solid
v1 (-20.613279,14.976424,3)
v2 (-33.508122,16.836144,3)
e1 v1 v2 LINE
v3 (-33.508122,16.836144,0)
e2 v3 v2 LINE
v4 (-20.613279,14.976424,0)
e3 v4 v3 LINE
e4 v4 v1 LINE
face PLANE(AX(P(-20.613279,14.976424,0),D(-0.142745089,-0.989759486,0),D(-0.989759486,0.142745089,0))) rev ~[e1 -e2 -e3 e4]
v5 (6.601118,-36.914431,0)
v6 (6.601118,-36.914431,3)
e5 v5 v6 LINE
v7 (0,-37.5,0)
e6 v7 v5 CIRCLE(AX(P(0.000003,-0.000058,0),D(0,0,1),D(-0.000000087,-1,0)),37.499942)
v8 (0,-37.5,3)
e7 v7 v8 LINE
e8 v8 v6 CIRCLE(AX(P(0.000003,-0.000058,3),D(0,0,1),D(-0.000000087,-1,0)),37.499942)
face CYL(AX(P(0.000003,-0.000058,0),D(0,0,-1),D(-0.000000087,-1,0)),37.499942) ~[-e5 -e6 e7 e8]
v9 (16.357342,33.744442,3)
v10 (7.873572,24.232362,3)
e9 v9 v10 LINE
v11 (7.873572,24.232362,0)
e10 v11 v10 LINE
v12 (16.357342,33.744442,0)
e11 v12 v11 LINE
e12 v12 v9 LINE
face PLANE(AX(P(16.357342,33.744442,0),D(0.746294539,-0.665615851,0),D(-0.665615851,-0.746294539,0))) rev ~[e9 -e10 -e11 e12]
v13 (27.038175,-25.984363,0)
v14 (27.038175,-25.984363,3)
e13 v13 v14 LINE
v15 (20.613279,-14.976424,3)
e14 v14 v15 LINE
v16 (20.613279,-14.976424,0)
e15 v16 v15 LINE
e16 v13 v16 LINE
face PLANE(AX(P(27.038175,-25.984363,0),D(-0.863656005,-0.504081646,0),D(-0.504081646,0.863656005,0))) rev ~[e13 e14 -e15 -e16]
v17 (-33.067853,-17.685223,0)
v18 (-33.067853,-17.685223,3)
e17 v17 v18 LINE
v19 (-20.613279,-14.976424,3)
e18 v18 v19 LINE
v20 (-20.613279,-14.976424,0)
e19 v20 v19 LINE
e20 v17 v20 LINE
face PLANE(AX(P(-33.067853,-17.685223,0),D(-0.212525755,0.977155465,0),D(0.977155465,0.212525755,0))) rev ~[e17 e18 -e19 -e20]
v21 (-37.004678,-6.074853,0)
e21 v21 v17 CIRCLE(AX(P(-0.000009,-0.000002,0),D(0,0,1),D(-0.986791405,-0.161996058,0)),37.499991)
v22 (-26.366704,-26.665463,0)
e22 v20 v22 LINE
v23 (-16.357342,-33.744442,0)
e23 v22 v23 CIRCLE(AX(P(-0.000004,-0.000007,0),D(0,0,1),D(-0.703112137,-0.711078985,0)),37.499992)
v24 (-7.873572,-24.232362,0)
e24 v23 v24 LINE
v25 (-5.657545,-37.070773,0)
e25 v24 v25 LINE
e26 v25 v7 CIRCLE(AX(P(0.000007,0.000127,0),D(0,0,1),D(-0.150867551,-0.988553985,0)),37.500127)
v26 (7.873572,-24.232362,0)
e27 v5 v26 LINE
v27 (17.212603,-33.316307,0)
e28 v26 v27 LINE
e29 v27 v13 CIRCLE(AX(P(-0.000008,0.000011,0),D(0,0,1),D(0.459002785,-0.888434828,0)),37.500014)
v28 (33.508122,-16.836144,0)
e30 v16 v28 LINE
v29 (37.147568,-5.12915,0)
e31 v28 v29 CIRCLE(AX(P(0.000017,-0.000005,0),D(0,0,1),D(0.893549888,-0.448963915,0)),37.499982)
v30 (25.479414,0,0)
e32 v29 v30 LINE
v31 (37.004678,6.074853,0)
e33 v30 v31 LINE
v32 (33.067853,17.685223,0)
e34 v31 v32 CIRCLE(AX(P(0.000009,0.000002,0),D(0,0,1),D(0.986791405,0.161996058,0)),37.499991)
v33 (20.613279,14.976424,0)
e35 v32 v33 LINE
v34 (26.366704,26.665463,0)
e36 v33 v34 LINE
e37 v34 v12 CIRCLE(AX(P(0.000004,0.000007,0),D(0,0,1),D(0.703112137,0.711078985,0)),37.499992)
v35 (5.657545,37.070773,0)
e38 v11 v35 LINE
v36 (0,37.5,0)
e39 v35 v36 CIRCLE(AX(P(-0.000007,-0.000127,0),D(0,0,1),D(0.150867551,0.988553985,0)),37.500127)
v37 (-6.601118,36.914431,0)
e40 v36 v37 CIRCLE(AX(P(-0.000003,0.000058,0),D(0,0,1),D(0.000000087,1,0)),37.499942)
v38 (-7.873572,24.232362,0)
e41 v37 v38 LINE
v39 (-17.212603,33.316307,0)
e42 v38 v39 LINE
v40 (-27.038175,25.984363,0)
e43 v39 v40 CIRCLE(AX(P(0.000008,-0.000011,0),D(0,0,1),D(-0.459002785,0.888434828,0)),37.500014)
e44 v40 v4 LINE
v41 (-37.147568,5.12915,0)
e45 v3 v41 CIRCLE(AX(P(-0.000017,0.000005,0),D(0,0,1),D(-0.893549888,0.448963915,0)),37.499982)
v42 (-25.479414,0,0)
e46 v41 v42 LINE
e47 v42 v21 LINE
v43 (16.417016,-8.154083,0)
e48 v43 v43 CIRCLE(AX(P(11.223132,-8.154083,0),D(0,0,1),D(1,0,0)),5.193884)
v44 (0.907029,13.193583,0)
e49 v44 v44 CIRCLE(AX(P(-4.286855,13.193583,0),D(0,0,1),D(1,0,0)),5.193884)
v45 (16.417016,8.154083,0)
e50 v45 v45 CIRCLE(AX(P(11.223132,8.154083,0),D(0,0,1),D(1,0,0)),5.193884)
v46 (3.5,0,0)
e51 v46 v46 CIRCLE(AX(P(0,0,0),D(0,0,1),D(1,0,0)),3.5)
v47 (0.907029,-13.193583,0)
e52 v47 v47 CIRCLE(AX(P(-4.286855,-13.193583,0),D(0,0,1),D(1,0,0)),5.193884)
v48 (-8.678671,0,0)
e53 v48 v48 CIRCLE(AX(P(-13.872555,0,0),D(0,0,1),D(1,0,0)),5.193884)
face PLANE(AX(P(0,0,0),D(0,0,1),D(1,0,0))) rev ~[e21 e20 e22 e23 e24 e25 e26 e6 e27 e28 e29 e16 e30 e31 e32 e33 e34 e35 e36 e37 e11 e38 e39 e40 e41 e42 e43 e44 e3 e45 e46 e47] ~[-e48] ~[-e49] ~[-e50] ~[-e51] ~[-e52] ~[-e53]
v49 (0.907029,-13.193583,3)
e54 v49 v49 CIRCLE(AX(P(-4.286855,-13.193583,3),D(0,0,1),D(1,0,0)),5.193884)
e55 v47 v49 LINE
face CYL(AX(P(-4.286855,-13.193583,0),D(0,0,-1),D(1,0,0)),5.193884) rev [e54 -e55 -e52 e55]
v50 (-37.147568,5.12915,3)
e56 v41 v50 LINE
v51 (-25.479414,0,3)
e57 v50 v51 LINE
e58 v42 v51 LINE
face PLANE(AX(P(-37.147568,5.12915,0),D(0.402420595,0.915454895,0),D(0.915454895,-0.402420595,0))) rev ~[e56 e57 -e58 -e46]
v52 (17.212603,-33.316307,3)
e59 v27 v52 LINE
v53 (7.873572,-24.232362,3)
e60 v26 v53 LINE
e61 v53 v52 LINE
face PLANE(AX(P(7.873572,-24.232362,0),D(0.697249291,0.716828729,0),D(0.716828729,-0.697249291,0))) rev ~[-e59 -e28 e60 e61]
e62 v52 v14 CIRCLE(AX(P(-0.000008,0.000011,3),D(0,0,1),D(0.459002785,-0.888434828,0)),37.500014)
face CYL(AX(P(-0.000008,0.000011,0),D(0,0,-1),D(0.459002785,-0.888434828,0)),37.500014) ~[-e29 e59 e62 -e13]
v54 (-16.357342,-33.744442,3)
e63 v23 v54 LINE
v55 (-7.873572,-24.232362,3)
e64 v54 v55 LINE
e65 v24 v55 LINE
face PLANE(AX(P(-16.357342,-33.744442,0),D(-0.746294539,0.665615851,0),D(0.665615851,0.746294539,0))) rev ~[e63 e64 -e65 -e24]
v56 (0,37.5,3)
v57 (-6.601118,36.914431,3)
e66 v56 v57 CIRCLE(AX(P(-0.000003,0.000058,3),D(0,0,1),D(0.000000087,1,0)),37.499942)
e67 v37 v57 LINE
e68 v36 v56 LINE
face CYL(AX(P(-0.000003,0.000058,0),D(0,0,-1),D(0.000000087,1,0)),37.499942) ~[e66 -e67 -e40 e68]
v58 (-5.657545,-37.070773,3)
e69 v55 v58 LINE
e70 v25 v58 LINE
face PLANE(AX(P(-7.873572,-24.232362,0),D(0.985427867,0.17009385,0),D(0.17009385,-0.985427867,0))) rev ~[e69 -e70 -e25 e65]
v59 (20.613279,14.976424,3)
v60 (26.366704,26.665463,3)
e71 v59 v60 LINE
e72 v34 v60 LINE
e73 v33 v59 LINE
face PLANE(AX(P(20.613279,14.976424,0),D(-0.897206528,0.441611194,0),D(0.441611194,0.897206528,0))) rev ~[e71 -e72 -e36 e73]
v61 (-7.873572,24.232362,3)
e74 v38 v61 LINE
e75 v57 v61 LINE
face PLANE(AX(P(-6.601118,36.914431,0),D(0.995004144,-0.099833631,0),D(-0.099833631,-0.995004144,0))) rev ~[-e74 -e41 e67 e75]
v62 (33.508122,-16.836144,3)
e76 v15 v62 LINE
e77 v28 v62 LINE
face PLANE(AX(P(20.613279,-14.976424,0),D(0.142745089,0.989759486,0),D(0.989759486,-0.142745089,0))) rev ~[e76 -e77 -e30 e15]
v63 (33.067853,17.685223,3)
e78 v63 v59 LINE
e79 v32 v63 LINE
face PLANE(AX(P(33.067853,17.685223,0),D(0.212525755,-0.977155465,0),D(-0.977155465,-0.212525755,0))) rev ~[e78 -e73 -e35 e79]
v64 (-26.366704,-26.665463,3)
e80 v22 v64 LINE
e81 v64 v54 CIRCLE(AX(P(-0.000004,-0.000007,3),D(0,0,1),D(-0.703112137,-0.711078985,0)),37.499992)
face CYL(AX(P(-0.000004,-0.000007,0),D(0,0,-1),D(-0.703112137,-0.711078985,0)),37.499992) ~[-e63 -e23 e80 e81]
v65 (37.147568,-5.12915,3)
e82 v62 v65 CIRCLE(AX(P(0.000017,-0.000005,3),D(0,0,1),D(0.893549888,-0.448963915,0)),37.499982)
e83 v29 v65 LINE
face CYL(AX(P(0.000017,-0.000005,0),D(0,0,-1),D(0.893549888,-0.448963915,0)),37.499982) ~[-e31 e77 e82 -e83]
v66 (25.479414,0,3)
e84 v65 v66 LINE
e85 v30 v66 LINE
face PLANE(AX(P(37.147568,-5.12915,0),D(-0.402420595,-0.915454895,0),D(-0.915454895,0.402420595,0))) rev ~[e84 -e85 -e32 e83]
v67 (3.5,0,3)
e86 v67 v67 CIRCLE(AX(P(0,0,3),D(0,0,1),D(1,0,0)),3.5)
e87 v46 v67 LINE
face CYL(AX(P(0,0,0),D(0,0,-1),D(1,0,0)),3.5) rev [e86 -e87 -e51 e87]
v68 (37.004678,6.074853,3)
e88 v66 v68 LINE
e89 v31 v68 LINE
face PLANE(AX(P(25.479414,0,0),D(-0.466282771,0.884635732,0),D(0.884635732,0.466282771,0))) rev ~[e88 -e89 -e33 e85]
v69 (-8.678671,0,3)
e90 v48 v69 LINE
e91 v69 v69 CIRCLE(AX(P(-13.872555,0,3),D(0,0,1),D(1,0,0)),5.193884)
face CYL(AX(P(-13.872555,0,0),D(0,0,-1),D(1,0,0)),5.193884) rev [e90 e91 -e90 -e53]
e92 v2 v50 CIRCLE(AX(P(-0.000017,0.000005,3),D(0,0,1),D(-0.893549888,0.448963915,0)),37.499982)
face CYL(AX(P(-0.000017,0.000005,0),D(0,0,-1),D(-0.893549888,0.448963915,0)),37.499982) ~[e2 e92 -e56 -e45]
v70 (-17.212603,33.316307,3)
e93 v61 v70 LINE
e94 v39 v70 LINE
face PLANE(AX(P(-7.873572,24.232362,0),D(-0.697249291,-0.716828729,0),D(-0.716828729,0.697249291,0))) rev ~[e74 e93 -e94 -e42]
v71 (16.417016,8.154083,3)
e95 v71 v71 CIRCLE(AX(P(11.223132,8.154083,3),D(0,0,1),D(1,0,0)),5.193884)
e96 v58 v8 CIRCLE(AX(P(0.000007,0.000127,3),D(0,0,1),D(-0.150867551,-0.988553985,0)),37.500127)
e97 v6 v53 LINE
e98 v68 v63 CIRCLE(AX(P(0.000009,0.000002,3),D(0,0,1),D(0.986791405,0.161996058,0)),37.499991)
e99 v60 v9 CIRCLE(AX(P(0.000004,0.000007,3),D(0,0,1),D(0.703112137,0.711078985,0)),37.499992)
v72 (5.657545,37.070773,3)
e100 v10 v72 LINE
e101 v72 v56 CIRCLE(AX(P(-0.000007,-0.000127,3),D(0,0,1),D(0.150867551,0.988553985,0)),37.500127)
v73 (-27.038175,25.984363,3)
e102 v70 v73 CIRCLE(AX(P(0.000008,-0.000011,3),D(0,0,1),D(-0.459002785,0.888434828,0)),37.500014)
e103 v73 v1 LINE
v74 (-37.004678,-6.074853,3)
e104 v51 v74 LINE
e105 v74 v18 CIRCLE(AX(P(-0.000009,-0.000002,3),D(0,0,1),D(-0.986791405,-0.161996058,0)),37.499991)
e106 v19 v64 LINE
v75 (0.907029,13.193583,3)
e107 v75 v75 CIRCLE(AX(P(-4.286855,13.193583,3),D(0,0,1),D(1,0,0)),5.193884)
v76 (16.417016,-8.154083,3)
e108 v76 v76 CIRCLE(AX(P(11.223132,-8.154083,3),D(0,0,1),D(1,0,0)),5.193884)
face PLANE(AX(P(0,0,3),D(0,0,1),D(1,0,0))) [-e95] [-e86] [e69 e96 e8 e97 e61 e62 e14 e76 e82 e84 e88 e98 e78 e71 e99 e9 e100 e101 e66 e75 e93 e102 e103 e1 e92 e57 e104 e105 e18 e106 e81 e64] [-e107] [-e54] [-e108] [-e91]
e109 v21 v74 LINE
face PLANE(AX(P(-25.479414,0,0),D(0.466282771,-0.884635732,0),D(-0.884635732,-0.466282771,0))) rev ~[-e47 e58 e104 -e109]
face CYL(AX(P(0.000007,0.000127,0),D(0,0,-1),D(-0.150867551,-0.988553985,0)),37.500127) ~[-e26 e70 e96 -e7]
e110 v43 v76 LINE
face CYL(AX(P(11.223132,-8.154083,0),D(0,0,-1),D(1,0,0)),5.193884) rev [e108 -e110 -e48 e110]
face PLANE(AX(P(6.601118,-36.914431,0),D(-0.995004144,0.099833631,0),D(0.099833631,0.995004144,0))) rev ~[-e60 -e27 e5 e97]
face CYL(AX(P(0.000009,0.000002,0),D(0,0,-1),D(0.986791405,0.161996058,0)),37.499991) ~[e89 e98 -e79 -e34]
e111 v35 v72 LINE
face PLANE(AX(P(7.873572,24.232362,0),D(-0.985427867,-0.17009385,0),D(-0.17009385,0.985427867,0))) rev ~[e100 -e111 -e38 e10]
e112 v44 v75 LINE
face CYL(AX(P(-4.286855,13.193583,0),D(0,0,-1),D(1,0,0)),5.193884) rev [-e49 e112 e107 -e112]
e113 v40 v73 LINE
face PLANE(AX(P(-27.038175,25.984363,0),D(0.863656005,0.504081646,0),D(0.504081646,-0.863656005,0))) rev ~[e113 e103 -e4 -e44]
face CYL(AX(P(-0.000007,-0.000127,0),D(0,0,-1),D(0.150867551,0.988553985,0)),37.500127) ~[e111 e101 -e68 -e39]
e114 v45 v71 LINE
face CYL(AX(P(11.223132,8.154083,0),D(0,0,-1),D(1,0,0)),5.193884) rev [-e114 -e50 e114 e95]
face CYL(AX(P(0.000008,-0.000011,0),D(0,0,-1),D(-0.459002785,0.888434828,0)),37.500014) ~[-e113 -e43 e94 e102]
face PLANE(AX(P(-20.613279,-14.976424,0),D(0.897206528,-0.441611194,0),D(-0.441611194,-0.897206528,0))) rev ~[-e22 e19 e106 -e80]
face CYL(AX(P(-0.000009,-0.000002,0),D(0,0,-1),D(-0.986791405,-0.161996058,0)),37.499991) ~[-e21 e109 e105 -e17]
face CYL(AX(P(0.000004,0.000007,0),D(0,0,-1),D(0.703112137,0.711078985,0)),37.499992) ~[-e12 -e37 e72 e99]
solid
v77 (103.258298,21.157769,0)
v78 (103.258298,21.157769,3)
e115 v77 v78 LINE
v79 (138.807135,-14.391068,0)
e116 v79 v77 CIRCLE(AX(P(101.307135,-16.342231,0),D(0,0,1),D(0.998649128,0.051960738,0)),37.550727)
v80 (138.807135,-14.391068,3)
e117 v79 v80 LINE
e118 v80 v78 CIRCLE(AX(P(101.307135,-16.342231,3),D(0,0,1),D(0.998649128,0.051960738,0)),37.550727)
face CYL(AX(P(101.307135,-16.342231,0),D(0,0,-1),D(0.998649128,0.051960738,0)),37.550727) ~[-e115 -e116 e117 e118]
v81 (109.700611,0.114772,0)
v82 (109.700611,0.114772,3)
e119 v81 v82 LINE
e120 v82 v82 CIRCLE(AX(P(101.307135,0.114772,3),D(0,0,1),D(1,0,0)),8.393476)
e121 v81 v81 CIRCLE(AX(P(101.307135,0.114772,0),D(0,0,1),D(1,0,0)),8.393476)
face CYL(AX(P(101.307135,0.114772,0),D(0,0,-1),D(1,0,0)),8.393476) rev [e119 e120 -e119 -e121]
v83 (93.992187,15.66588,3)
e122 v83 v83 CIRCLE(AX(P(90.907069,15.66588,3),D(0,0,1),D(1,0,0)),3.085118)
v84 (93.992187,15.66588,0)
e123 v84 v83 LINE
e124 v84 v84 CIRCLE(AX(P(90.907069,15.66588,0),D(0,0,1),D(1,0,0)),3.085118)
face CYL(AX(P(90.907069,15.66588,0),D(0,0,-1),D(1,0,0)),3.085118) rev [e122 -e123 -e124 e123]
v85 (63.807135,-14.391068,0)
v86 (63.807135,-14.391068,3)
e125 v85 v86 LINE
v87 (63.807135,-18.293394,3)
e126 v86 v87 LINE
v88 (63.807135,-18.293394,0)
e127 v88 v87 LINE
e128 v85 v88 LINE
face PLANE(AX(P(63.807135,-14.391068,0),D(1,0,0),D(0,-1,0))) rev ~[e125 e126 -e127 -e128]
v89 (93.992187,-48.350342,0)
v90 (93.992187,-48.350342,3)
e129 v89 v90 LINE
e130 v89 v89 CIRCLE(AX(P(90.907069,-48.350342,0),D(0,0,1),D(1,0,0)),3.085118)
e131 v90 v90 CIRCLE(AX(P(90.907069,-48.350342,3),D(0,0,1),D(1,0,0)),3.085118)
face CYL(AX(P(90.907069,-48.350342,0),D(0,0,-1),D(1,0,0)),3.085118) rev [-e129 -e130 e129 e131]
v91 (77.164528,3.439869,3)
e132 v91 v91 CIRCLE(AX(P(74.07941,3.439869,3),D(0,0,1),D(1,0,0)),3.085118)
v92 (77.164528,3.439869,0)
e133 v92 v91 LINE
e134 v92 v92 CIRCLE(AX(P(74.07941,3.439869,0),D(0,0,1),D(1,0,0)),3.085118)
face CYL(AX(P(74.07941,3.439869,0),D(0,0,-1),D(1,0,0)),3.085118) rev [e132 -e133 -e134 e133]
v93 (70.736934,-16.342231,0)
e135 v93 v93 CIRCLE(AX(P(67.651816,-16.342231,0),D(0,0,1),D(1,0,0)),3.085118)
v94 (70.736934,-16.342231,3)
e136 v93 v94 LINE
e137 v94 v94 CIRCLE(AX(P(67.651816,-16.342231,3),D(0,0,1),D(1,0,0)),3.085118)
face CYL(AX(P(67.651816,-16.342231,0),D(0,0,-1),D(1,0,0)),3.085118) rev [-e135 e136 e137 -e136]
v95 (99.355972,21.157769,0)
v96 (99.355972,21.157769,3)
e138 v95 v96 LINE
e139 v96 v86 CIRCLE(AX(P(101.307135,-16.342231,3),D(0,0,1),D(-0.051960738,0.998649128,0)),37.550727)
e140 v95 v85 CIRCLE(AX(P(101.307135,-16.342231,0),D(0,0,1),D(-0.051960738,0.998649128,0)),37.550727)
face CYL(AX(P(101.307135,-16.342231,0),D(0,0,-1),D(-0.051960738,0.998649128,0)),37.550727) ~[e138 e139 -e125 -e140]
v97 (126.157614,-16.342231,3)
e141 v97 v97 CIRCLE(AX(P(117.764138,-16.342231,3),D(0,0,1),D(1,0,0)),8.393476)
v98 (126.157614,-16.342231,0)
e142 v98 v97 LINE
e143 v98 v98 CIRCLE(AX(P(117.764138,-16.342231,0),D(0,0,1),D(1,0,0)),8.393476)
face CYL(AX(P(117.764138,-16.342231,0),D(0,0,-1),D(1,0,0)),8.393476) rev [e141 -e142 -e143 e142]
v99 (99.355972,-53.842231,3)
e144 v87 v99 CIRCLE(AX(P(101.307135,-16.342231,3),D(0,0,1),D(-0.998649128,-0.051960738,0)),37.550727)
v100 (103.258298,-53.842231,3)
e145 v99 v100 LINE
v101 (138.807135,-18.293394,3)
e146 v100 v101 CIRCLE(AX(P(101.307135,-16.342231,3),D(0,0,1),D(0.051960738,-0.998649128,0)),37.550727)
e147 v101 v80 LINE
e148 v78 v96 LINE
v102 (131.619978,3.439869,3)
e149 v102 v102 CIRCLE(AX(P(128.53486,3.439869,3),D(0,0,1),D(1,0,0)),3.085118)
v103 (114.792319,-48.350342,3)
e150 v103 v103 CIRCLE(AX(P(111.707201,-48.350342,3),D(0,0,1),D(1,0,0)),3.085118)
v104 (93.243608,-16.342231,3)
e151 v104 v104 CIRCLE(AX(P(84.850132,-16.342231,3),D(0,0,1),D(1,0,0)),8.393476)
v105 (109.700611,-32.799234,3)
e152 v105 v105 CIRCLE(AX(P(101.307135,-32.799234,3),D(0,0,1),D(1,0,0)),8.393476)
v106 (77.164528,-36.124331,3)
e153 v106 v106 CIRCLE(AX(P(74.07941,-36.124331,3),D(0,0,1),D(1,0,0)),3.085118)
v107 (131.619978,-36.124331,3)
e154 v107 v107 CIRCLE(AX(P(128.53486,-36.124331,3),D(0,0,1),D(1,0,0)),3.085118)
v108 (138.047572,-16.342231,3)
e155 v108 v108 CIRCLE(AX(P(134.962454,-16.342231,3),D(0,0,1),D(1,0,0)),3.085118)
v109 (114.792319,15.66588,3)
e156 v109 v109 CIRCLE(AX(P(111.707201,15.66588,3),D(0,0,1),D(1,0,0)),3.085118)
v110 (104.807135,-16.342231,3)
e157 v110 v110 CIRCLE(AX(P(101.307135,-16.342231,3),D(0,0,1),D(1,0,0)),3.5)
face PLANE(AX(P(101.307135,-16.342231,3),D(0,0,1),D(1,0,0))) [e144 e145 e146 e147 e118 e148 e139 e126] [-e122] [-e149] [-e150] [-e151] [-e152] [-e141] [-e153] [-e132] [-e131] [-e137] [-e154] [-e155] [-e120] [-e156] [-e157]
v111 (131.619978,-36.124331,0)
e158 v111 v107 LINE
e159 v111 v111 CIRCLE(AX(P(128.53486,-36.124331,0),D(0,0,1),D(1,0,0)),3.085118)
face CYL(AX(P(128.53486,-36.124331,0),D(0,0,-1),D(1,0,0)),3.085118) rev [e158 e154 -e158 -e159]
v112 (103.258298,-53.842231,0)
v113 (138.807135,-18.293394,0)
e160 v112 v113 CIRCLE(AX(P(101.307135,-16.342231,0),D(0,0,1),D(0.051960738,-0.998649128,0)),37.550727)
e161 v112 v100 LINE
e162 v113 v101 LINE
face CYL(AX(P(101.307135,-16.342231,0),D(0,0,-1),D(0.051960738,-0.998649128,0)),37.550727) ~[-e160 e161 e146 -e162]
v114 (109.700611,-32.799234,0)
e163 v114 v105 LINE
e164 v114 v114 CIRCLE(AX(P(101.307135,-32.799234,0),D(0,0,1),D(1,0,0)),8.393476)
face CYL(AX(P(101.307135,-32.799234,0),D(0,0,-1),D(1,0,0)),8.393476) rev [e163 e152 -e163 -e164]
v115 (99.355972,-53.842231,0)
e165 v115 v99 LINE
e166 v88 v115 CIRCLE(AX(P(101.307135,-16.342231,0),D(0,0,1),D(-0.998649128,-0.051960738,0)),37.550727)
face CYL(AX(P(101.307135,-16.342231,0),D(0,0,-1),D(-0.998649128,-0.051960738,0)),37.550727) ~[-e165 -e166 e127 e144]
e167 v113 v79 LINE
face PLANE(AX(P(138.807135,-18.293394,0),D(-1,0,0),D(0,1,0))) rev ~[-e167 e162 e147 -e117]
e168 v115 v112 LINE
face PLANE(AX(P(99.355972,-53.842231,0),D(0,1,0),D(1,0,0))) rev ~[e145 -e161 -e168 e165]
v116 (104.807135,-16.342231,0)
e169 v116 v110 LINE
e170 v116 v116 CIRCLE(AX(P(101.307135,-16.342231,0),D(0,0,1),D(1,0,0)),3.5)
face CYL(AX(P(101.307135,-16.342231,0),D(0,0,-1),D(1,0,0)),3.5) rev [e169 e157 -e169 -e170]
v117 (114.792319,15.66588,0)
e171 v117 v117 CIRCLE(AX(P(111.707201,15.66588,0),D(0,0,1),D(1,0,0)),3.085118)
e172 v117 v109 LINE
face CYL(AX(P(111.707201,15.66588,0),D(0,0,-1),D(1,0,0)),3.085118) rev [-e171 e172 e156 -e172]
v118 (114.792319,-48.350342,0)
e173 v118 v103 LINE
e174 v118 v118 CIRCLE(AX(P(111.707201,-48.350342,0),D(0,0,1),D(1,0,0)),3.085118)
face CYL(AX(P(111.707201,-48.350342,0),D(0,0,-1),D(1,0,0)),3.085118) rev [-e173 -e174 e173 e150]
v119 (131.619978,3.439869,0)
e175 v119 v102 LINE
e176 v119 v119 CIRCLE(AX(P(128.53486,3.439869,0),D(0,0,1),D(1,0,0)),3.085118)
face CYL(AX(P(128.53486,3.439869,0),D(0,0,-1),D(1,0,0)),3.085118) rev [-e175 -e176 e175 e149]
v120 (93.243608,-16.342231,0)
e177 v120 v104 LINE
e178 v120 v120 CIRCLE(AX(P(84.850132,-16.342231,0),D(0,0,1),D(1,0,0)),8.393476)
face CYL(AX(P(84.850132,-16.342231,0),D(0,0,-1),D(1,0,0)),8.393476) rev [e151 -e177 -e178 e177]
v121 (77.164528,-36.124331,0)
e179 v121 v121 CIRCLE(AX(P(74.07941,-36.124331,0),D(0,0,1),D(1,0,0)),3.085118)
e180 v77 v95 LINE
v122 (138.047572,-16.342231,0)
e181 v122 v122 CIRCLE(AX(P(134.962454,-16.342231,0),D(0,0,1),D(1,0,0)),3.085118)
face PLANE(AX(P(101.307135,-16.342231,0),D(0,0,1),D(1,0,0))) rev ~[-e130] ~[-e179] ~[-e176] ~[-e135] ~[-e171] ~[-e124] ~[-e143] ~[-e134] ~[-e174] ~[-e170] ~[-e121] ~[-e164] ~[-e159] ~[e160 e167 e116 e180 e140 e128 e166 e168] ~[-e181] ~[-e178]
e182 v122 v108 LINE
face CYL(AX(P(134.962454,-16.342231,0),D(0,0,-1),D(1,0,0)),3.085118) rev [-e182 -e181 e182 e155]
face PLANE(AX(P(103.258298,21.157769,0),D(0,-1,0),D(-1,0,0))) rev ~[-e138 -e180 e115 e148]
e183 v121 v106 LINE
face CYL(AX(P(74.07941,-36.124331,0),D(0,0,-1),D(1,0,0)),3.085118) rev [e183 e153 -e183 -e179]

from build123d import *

# Parameters (mm, degrees)
F0_R     = 5.193884
F0_R_2   = 3.5
F1_DEPTH = 3
F2_R     = 3.085118
F2_R_2   = 8.393476
F2_R_3   = 3.5
F3_DEPTH = 3


with BuildPart() as f1:
    # F0 (on Top) → F1 (new body)
    with BuildSketch(Plane.XY):
        with BuildLine():
            ThreePointArc((-5.657545, -37.070773), (-2.836902, -37.392539), (0, -37.5))
            ThreePointArc((0, -37.5), (3.31352, -37.353321), (6.601118, -36.914431))
            Line((6.601118, -36.914431), (7.873572, -24.232362))
            Line((7.873572, -24.232362), (17.212603, -33.316307))
            ThreePointArc((17.212603, -33.316307), (22.427041, -30.054581), (27.038175, -25.984363))
            Line((27.038175, -25.984363), (20.613279, -14.976424))
            Line((20.613279, -14.976424), (33.508122, -16.836144))
            ThreePointArc((33.508122, -16.836144), (35.809497, -11.132382), (37.147568, -5.12915))
            Line((37.147568, -5.12915), (25.479414, 0))
            Line((25.479414, 0), (37.004678, 6.074853))
            ThreePointArc((37.004678, 6.074853), (35.513942, 12.042008), (33.067853, 17.685223))
            Line((33.067853, 17.685223), (20.613279, 14.976424))
            Line((20.613279, 14.976424), (26.366704, 26.665463))
            ThreePointArc((26.366704, 26.665463), (21.653268, 30.61676), (16.357342, 33.744442))
            Line((16.357342, 33.744442), (7.873572, 24.232362))
            Line((7.873572, 24.232362), (5.657545, 37.070773))
            ThreePointArc((5.657545, 37.070773), (2.836902, 37.392539), (0, 37.5))
            ThreePointArc((0, 37.5), (-3.31352, 37.353321), (-6.601118, 36.914431))
            Line((-6.601118, 36.914431), (-7.873572, 24.232362))
            Line((-7.873572, 24.232362), (-17.212603, 33.316307))
            ThreePointArc((-17.212603, 33.316307), (-22.427041, 30.054581), (-27.038175, 25.984363))
            Line((-27.038175, 25.984363), (-20.613279, 14.976424))
            Line((-20.613279, 14.976424), (-33.508122, 16.836144))
            ThreePointArc((-33.508122, 16.836144), (-35.809497, 11.132382), (-37.147568, 5.12915))
            Line((-37.147568, 5.12915), (-25.479414, 0))
            Line((-25.479414, 0), (-37.004678, -6.074853))
            ThreePointArc((-37.004678, -6.074853), (-35.513942, -12.042008), (-33.067853, -17.685223))
            Line((-33.067853, -17.685223), (-20.613279, -14.976424))
            Line((-20.613279, -14.976424), (-26.366704, -26.665463))
            ThreePointArc((-26.366704, -26.665463), (-21.653268, -30.61676), (-16.357342, -33.744442))
            Line((-16.357342, -33.744442), (-7.873572, -24.232362))
            Line((-7.873572, -24.232362), (-5.657545, -37.070773))
        make_face()
        with Locations((-4.286855, -13.193583)):
            Circle(F0_R, mode=Mode.SUBTRACT)
        with Locations((11.223132, -8.154083)):
            Circle(F0_R, mode=Mode.SUBTRACT)
        with Locations((-13.872555, 0)):
            Circle(F0_R, mode=Mode.SUBTRACT)
        with Locations((-4.286855, 13.193583)):
            Circle(F0_R, mode=Mode.SUBTRACT)
        Circle(F0_R_2, mode=Mode.SUBTRACT)
        with Locations((11.223132, 8.154083)):
            Circle(F0_R, mode=Mode.SUBTRACT)
    extrude(amount=F1_DEPTH)


with BuildPart() as f3:
    # F2 (on Top) → F3 (new body)
    with BuildSketch(Plane.XY):
        with BuildLine():
            Line((99.355972, -53.842231), (103.258298, -53.842231))
            ThreePointArc((103.258298, -53.842231), (127.859508, -42.894604), (138.807135, -18.293394))
            Line((138.807135, -18.293394), (138.807135, -14.391068))
            ThreePointArc((138.807135, -14.391068), (127.859508, 10.210142), (103.258298, 21.157769))
            Line((103.258298, 21.157769), (99.355972, 21.157769))
            ThreePointArc((99.355972, 21.157769), (74.754762, 10.210142), (63.807135, -14.391068))
            Line((63.807135, -14.391068), (63.807135, -18.293394))
            ThreePointArc((63.807135, -18.293394), (74.754762, -42.894604), (99.355972, -53.842231))
        make_face()
        with Locations((74.07941, -36.124331)):
            Circle(F2_R, mode=Mode.SUBTRACT)
        with Locations((90.907069, -48.350342)):
            Circle(F2_R, mode=Mode.SUBTRACT)
        with Locations((111.707201, -48.350342)):
            Circle(F2_R, mode=Mode.SUBTRACT)
        with Locations((128.53486, -36.124331)):
            Circle(F2_R, mode=Mode.SUBTRACT)
        with Locations((101.307135, -32.799234)):
            Circle(F2_R_2, mode=Mode.SUBTRACT)
        with Locations((134.962454, -16.342231)):
            Circle(F2_R, mode=Mode.SUBTRACT)
        with Locations((67.651816, -16.342231)):
            Circle(F2_R, mode=Mode.SUBTRACT)
        with Locations((84.850132, -16.342231)):
            Circle(F2_R_2, mode=Mode.SUBTRACT)
        with Locations((74.07941, 3.439869)):
            Circle(F2_R, mode=Mode.SUBTRACT)
        with Locations((90.907069, 15.66588)):
            Circle(F2_R, mode=Mode.SUBTRACT)
        with Locations((101.307135, -16.342231)):
            Circle(F2_R_3, mode=Mode.SUBTRACT)
        with Locations((117.764138, -16.342231)):
            Circle(F2_R_2, mode=Mode.SUBTRACT)
        with Locations((101.307135, 0.114772)):
            Circle(F2_R_2, mode=Mode.SUBTRACT)
        with Locations((111.707201, 15.66588)):
            Circle(F2_R, mode=Mode.SUBTRACT)
        with Locations((128.53486, 3.439869)):
            Circle(F2_R, mode=Mode.SUBTRACT)
    extrude(amount=F3_DEPTH)


solid = Compound([f1.part, f3.part])
